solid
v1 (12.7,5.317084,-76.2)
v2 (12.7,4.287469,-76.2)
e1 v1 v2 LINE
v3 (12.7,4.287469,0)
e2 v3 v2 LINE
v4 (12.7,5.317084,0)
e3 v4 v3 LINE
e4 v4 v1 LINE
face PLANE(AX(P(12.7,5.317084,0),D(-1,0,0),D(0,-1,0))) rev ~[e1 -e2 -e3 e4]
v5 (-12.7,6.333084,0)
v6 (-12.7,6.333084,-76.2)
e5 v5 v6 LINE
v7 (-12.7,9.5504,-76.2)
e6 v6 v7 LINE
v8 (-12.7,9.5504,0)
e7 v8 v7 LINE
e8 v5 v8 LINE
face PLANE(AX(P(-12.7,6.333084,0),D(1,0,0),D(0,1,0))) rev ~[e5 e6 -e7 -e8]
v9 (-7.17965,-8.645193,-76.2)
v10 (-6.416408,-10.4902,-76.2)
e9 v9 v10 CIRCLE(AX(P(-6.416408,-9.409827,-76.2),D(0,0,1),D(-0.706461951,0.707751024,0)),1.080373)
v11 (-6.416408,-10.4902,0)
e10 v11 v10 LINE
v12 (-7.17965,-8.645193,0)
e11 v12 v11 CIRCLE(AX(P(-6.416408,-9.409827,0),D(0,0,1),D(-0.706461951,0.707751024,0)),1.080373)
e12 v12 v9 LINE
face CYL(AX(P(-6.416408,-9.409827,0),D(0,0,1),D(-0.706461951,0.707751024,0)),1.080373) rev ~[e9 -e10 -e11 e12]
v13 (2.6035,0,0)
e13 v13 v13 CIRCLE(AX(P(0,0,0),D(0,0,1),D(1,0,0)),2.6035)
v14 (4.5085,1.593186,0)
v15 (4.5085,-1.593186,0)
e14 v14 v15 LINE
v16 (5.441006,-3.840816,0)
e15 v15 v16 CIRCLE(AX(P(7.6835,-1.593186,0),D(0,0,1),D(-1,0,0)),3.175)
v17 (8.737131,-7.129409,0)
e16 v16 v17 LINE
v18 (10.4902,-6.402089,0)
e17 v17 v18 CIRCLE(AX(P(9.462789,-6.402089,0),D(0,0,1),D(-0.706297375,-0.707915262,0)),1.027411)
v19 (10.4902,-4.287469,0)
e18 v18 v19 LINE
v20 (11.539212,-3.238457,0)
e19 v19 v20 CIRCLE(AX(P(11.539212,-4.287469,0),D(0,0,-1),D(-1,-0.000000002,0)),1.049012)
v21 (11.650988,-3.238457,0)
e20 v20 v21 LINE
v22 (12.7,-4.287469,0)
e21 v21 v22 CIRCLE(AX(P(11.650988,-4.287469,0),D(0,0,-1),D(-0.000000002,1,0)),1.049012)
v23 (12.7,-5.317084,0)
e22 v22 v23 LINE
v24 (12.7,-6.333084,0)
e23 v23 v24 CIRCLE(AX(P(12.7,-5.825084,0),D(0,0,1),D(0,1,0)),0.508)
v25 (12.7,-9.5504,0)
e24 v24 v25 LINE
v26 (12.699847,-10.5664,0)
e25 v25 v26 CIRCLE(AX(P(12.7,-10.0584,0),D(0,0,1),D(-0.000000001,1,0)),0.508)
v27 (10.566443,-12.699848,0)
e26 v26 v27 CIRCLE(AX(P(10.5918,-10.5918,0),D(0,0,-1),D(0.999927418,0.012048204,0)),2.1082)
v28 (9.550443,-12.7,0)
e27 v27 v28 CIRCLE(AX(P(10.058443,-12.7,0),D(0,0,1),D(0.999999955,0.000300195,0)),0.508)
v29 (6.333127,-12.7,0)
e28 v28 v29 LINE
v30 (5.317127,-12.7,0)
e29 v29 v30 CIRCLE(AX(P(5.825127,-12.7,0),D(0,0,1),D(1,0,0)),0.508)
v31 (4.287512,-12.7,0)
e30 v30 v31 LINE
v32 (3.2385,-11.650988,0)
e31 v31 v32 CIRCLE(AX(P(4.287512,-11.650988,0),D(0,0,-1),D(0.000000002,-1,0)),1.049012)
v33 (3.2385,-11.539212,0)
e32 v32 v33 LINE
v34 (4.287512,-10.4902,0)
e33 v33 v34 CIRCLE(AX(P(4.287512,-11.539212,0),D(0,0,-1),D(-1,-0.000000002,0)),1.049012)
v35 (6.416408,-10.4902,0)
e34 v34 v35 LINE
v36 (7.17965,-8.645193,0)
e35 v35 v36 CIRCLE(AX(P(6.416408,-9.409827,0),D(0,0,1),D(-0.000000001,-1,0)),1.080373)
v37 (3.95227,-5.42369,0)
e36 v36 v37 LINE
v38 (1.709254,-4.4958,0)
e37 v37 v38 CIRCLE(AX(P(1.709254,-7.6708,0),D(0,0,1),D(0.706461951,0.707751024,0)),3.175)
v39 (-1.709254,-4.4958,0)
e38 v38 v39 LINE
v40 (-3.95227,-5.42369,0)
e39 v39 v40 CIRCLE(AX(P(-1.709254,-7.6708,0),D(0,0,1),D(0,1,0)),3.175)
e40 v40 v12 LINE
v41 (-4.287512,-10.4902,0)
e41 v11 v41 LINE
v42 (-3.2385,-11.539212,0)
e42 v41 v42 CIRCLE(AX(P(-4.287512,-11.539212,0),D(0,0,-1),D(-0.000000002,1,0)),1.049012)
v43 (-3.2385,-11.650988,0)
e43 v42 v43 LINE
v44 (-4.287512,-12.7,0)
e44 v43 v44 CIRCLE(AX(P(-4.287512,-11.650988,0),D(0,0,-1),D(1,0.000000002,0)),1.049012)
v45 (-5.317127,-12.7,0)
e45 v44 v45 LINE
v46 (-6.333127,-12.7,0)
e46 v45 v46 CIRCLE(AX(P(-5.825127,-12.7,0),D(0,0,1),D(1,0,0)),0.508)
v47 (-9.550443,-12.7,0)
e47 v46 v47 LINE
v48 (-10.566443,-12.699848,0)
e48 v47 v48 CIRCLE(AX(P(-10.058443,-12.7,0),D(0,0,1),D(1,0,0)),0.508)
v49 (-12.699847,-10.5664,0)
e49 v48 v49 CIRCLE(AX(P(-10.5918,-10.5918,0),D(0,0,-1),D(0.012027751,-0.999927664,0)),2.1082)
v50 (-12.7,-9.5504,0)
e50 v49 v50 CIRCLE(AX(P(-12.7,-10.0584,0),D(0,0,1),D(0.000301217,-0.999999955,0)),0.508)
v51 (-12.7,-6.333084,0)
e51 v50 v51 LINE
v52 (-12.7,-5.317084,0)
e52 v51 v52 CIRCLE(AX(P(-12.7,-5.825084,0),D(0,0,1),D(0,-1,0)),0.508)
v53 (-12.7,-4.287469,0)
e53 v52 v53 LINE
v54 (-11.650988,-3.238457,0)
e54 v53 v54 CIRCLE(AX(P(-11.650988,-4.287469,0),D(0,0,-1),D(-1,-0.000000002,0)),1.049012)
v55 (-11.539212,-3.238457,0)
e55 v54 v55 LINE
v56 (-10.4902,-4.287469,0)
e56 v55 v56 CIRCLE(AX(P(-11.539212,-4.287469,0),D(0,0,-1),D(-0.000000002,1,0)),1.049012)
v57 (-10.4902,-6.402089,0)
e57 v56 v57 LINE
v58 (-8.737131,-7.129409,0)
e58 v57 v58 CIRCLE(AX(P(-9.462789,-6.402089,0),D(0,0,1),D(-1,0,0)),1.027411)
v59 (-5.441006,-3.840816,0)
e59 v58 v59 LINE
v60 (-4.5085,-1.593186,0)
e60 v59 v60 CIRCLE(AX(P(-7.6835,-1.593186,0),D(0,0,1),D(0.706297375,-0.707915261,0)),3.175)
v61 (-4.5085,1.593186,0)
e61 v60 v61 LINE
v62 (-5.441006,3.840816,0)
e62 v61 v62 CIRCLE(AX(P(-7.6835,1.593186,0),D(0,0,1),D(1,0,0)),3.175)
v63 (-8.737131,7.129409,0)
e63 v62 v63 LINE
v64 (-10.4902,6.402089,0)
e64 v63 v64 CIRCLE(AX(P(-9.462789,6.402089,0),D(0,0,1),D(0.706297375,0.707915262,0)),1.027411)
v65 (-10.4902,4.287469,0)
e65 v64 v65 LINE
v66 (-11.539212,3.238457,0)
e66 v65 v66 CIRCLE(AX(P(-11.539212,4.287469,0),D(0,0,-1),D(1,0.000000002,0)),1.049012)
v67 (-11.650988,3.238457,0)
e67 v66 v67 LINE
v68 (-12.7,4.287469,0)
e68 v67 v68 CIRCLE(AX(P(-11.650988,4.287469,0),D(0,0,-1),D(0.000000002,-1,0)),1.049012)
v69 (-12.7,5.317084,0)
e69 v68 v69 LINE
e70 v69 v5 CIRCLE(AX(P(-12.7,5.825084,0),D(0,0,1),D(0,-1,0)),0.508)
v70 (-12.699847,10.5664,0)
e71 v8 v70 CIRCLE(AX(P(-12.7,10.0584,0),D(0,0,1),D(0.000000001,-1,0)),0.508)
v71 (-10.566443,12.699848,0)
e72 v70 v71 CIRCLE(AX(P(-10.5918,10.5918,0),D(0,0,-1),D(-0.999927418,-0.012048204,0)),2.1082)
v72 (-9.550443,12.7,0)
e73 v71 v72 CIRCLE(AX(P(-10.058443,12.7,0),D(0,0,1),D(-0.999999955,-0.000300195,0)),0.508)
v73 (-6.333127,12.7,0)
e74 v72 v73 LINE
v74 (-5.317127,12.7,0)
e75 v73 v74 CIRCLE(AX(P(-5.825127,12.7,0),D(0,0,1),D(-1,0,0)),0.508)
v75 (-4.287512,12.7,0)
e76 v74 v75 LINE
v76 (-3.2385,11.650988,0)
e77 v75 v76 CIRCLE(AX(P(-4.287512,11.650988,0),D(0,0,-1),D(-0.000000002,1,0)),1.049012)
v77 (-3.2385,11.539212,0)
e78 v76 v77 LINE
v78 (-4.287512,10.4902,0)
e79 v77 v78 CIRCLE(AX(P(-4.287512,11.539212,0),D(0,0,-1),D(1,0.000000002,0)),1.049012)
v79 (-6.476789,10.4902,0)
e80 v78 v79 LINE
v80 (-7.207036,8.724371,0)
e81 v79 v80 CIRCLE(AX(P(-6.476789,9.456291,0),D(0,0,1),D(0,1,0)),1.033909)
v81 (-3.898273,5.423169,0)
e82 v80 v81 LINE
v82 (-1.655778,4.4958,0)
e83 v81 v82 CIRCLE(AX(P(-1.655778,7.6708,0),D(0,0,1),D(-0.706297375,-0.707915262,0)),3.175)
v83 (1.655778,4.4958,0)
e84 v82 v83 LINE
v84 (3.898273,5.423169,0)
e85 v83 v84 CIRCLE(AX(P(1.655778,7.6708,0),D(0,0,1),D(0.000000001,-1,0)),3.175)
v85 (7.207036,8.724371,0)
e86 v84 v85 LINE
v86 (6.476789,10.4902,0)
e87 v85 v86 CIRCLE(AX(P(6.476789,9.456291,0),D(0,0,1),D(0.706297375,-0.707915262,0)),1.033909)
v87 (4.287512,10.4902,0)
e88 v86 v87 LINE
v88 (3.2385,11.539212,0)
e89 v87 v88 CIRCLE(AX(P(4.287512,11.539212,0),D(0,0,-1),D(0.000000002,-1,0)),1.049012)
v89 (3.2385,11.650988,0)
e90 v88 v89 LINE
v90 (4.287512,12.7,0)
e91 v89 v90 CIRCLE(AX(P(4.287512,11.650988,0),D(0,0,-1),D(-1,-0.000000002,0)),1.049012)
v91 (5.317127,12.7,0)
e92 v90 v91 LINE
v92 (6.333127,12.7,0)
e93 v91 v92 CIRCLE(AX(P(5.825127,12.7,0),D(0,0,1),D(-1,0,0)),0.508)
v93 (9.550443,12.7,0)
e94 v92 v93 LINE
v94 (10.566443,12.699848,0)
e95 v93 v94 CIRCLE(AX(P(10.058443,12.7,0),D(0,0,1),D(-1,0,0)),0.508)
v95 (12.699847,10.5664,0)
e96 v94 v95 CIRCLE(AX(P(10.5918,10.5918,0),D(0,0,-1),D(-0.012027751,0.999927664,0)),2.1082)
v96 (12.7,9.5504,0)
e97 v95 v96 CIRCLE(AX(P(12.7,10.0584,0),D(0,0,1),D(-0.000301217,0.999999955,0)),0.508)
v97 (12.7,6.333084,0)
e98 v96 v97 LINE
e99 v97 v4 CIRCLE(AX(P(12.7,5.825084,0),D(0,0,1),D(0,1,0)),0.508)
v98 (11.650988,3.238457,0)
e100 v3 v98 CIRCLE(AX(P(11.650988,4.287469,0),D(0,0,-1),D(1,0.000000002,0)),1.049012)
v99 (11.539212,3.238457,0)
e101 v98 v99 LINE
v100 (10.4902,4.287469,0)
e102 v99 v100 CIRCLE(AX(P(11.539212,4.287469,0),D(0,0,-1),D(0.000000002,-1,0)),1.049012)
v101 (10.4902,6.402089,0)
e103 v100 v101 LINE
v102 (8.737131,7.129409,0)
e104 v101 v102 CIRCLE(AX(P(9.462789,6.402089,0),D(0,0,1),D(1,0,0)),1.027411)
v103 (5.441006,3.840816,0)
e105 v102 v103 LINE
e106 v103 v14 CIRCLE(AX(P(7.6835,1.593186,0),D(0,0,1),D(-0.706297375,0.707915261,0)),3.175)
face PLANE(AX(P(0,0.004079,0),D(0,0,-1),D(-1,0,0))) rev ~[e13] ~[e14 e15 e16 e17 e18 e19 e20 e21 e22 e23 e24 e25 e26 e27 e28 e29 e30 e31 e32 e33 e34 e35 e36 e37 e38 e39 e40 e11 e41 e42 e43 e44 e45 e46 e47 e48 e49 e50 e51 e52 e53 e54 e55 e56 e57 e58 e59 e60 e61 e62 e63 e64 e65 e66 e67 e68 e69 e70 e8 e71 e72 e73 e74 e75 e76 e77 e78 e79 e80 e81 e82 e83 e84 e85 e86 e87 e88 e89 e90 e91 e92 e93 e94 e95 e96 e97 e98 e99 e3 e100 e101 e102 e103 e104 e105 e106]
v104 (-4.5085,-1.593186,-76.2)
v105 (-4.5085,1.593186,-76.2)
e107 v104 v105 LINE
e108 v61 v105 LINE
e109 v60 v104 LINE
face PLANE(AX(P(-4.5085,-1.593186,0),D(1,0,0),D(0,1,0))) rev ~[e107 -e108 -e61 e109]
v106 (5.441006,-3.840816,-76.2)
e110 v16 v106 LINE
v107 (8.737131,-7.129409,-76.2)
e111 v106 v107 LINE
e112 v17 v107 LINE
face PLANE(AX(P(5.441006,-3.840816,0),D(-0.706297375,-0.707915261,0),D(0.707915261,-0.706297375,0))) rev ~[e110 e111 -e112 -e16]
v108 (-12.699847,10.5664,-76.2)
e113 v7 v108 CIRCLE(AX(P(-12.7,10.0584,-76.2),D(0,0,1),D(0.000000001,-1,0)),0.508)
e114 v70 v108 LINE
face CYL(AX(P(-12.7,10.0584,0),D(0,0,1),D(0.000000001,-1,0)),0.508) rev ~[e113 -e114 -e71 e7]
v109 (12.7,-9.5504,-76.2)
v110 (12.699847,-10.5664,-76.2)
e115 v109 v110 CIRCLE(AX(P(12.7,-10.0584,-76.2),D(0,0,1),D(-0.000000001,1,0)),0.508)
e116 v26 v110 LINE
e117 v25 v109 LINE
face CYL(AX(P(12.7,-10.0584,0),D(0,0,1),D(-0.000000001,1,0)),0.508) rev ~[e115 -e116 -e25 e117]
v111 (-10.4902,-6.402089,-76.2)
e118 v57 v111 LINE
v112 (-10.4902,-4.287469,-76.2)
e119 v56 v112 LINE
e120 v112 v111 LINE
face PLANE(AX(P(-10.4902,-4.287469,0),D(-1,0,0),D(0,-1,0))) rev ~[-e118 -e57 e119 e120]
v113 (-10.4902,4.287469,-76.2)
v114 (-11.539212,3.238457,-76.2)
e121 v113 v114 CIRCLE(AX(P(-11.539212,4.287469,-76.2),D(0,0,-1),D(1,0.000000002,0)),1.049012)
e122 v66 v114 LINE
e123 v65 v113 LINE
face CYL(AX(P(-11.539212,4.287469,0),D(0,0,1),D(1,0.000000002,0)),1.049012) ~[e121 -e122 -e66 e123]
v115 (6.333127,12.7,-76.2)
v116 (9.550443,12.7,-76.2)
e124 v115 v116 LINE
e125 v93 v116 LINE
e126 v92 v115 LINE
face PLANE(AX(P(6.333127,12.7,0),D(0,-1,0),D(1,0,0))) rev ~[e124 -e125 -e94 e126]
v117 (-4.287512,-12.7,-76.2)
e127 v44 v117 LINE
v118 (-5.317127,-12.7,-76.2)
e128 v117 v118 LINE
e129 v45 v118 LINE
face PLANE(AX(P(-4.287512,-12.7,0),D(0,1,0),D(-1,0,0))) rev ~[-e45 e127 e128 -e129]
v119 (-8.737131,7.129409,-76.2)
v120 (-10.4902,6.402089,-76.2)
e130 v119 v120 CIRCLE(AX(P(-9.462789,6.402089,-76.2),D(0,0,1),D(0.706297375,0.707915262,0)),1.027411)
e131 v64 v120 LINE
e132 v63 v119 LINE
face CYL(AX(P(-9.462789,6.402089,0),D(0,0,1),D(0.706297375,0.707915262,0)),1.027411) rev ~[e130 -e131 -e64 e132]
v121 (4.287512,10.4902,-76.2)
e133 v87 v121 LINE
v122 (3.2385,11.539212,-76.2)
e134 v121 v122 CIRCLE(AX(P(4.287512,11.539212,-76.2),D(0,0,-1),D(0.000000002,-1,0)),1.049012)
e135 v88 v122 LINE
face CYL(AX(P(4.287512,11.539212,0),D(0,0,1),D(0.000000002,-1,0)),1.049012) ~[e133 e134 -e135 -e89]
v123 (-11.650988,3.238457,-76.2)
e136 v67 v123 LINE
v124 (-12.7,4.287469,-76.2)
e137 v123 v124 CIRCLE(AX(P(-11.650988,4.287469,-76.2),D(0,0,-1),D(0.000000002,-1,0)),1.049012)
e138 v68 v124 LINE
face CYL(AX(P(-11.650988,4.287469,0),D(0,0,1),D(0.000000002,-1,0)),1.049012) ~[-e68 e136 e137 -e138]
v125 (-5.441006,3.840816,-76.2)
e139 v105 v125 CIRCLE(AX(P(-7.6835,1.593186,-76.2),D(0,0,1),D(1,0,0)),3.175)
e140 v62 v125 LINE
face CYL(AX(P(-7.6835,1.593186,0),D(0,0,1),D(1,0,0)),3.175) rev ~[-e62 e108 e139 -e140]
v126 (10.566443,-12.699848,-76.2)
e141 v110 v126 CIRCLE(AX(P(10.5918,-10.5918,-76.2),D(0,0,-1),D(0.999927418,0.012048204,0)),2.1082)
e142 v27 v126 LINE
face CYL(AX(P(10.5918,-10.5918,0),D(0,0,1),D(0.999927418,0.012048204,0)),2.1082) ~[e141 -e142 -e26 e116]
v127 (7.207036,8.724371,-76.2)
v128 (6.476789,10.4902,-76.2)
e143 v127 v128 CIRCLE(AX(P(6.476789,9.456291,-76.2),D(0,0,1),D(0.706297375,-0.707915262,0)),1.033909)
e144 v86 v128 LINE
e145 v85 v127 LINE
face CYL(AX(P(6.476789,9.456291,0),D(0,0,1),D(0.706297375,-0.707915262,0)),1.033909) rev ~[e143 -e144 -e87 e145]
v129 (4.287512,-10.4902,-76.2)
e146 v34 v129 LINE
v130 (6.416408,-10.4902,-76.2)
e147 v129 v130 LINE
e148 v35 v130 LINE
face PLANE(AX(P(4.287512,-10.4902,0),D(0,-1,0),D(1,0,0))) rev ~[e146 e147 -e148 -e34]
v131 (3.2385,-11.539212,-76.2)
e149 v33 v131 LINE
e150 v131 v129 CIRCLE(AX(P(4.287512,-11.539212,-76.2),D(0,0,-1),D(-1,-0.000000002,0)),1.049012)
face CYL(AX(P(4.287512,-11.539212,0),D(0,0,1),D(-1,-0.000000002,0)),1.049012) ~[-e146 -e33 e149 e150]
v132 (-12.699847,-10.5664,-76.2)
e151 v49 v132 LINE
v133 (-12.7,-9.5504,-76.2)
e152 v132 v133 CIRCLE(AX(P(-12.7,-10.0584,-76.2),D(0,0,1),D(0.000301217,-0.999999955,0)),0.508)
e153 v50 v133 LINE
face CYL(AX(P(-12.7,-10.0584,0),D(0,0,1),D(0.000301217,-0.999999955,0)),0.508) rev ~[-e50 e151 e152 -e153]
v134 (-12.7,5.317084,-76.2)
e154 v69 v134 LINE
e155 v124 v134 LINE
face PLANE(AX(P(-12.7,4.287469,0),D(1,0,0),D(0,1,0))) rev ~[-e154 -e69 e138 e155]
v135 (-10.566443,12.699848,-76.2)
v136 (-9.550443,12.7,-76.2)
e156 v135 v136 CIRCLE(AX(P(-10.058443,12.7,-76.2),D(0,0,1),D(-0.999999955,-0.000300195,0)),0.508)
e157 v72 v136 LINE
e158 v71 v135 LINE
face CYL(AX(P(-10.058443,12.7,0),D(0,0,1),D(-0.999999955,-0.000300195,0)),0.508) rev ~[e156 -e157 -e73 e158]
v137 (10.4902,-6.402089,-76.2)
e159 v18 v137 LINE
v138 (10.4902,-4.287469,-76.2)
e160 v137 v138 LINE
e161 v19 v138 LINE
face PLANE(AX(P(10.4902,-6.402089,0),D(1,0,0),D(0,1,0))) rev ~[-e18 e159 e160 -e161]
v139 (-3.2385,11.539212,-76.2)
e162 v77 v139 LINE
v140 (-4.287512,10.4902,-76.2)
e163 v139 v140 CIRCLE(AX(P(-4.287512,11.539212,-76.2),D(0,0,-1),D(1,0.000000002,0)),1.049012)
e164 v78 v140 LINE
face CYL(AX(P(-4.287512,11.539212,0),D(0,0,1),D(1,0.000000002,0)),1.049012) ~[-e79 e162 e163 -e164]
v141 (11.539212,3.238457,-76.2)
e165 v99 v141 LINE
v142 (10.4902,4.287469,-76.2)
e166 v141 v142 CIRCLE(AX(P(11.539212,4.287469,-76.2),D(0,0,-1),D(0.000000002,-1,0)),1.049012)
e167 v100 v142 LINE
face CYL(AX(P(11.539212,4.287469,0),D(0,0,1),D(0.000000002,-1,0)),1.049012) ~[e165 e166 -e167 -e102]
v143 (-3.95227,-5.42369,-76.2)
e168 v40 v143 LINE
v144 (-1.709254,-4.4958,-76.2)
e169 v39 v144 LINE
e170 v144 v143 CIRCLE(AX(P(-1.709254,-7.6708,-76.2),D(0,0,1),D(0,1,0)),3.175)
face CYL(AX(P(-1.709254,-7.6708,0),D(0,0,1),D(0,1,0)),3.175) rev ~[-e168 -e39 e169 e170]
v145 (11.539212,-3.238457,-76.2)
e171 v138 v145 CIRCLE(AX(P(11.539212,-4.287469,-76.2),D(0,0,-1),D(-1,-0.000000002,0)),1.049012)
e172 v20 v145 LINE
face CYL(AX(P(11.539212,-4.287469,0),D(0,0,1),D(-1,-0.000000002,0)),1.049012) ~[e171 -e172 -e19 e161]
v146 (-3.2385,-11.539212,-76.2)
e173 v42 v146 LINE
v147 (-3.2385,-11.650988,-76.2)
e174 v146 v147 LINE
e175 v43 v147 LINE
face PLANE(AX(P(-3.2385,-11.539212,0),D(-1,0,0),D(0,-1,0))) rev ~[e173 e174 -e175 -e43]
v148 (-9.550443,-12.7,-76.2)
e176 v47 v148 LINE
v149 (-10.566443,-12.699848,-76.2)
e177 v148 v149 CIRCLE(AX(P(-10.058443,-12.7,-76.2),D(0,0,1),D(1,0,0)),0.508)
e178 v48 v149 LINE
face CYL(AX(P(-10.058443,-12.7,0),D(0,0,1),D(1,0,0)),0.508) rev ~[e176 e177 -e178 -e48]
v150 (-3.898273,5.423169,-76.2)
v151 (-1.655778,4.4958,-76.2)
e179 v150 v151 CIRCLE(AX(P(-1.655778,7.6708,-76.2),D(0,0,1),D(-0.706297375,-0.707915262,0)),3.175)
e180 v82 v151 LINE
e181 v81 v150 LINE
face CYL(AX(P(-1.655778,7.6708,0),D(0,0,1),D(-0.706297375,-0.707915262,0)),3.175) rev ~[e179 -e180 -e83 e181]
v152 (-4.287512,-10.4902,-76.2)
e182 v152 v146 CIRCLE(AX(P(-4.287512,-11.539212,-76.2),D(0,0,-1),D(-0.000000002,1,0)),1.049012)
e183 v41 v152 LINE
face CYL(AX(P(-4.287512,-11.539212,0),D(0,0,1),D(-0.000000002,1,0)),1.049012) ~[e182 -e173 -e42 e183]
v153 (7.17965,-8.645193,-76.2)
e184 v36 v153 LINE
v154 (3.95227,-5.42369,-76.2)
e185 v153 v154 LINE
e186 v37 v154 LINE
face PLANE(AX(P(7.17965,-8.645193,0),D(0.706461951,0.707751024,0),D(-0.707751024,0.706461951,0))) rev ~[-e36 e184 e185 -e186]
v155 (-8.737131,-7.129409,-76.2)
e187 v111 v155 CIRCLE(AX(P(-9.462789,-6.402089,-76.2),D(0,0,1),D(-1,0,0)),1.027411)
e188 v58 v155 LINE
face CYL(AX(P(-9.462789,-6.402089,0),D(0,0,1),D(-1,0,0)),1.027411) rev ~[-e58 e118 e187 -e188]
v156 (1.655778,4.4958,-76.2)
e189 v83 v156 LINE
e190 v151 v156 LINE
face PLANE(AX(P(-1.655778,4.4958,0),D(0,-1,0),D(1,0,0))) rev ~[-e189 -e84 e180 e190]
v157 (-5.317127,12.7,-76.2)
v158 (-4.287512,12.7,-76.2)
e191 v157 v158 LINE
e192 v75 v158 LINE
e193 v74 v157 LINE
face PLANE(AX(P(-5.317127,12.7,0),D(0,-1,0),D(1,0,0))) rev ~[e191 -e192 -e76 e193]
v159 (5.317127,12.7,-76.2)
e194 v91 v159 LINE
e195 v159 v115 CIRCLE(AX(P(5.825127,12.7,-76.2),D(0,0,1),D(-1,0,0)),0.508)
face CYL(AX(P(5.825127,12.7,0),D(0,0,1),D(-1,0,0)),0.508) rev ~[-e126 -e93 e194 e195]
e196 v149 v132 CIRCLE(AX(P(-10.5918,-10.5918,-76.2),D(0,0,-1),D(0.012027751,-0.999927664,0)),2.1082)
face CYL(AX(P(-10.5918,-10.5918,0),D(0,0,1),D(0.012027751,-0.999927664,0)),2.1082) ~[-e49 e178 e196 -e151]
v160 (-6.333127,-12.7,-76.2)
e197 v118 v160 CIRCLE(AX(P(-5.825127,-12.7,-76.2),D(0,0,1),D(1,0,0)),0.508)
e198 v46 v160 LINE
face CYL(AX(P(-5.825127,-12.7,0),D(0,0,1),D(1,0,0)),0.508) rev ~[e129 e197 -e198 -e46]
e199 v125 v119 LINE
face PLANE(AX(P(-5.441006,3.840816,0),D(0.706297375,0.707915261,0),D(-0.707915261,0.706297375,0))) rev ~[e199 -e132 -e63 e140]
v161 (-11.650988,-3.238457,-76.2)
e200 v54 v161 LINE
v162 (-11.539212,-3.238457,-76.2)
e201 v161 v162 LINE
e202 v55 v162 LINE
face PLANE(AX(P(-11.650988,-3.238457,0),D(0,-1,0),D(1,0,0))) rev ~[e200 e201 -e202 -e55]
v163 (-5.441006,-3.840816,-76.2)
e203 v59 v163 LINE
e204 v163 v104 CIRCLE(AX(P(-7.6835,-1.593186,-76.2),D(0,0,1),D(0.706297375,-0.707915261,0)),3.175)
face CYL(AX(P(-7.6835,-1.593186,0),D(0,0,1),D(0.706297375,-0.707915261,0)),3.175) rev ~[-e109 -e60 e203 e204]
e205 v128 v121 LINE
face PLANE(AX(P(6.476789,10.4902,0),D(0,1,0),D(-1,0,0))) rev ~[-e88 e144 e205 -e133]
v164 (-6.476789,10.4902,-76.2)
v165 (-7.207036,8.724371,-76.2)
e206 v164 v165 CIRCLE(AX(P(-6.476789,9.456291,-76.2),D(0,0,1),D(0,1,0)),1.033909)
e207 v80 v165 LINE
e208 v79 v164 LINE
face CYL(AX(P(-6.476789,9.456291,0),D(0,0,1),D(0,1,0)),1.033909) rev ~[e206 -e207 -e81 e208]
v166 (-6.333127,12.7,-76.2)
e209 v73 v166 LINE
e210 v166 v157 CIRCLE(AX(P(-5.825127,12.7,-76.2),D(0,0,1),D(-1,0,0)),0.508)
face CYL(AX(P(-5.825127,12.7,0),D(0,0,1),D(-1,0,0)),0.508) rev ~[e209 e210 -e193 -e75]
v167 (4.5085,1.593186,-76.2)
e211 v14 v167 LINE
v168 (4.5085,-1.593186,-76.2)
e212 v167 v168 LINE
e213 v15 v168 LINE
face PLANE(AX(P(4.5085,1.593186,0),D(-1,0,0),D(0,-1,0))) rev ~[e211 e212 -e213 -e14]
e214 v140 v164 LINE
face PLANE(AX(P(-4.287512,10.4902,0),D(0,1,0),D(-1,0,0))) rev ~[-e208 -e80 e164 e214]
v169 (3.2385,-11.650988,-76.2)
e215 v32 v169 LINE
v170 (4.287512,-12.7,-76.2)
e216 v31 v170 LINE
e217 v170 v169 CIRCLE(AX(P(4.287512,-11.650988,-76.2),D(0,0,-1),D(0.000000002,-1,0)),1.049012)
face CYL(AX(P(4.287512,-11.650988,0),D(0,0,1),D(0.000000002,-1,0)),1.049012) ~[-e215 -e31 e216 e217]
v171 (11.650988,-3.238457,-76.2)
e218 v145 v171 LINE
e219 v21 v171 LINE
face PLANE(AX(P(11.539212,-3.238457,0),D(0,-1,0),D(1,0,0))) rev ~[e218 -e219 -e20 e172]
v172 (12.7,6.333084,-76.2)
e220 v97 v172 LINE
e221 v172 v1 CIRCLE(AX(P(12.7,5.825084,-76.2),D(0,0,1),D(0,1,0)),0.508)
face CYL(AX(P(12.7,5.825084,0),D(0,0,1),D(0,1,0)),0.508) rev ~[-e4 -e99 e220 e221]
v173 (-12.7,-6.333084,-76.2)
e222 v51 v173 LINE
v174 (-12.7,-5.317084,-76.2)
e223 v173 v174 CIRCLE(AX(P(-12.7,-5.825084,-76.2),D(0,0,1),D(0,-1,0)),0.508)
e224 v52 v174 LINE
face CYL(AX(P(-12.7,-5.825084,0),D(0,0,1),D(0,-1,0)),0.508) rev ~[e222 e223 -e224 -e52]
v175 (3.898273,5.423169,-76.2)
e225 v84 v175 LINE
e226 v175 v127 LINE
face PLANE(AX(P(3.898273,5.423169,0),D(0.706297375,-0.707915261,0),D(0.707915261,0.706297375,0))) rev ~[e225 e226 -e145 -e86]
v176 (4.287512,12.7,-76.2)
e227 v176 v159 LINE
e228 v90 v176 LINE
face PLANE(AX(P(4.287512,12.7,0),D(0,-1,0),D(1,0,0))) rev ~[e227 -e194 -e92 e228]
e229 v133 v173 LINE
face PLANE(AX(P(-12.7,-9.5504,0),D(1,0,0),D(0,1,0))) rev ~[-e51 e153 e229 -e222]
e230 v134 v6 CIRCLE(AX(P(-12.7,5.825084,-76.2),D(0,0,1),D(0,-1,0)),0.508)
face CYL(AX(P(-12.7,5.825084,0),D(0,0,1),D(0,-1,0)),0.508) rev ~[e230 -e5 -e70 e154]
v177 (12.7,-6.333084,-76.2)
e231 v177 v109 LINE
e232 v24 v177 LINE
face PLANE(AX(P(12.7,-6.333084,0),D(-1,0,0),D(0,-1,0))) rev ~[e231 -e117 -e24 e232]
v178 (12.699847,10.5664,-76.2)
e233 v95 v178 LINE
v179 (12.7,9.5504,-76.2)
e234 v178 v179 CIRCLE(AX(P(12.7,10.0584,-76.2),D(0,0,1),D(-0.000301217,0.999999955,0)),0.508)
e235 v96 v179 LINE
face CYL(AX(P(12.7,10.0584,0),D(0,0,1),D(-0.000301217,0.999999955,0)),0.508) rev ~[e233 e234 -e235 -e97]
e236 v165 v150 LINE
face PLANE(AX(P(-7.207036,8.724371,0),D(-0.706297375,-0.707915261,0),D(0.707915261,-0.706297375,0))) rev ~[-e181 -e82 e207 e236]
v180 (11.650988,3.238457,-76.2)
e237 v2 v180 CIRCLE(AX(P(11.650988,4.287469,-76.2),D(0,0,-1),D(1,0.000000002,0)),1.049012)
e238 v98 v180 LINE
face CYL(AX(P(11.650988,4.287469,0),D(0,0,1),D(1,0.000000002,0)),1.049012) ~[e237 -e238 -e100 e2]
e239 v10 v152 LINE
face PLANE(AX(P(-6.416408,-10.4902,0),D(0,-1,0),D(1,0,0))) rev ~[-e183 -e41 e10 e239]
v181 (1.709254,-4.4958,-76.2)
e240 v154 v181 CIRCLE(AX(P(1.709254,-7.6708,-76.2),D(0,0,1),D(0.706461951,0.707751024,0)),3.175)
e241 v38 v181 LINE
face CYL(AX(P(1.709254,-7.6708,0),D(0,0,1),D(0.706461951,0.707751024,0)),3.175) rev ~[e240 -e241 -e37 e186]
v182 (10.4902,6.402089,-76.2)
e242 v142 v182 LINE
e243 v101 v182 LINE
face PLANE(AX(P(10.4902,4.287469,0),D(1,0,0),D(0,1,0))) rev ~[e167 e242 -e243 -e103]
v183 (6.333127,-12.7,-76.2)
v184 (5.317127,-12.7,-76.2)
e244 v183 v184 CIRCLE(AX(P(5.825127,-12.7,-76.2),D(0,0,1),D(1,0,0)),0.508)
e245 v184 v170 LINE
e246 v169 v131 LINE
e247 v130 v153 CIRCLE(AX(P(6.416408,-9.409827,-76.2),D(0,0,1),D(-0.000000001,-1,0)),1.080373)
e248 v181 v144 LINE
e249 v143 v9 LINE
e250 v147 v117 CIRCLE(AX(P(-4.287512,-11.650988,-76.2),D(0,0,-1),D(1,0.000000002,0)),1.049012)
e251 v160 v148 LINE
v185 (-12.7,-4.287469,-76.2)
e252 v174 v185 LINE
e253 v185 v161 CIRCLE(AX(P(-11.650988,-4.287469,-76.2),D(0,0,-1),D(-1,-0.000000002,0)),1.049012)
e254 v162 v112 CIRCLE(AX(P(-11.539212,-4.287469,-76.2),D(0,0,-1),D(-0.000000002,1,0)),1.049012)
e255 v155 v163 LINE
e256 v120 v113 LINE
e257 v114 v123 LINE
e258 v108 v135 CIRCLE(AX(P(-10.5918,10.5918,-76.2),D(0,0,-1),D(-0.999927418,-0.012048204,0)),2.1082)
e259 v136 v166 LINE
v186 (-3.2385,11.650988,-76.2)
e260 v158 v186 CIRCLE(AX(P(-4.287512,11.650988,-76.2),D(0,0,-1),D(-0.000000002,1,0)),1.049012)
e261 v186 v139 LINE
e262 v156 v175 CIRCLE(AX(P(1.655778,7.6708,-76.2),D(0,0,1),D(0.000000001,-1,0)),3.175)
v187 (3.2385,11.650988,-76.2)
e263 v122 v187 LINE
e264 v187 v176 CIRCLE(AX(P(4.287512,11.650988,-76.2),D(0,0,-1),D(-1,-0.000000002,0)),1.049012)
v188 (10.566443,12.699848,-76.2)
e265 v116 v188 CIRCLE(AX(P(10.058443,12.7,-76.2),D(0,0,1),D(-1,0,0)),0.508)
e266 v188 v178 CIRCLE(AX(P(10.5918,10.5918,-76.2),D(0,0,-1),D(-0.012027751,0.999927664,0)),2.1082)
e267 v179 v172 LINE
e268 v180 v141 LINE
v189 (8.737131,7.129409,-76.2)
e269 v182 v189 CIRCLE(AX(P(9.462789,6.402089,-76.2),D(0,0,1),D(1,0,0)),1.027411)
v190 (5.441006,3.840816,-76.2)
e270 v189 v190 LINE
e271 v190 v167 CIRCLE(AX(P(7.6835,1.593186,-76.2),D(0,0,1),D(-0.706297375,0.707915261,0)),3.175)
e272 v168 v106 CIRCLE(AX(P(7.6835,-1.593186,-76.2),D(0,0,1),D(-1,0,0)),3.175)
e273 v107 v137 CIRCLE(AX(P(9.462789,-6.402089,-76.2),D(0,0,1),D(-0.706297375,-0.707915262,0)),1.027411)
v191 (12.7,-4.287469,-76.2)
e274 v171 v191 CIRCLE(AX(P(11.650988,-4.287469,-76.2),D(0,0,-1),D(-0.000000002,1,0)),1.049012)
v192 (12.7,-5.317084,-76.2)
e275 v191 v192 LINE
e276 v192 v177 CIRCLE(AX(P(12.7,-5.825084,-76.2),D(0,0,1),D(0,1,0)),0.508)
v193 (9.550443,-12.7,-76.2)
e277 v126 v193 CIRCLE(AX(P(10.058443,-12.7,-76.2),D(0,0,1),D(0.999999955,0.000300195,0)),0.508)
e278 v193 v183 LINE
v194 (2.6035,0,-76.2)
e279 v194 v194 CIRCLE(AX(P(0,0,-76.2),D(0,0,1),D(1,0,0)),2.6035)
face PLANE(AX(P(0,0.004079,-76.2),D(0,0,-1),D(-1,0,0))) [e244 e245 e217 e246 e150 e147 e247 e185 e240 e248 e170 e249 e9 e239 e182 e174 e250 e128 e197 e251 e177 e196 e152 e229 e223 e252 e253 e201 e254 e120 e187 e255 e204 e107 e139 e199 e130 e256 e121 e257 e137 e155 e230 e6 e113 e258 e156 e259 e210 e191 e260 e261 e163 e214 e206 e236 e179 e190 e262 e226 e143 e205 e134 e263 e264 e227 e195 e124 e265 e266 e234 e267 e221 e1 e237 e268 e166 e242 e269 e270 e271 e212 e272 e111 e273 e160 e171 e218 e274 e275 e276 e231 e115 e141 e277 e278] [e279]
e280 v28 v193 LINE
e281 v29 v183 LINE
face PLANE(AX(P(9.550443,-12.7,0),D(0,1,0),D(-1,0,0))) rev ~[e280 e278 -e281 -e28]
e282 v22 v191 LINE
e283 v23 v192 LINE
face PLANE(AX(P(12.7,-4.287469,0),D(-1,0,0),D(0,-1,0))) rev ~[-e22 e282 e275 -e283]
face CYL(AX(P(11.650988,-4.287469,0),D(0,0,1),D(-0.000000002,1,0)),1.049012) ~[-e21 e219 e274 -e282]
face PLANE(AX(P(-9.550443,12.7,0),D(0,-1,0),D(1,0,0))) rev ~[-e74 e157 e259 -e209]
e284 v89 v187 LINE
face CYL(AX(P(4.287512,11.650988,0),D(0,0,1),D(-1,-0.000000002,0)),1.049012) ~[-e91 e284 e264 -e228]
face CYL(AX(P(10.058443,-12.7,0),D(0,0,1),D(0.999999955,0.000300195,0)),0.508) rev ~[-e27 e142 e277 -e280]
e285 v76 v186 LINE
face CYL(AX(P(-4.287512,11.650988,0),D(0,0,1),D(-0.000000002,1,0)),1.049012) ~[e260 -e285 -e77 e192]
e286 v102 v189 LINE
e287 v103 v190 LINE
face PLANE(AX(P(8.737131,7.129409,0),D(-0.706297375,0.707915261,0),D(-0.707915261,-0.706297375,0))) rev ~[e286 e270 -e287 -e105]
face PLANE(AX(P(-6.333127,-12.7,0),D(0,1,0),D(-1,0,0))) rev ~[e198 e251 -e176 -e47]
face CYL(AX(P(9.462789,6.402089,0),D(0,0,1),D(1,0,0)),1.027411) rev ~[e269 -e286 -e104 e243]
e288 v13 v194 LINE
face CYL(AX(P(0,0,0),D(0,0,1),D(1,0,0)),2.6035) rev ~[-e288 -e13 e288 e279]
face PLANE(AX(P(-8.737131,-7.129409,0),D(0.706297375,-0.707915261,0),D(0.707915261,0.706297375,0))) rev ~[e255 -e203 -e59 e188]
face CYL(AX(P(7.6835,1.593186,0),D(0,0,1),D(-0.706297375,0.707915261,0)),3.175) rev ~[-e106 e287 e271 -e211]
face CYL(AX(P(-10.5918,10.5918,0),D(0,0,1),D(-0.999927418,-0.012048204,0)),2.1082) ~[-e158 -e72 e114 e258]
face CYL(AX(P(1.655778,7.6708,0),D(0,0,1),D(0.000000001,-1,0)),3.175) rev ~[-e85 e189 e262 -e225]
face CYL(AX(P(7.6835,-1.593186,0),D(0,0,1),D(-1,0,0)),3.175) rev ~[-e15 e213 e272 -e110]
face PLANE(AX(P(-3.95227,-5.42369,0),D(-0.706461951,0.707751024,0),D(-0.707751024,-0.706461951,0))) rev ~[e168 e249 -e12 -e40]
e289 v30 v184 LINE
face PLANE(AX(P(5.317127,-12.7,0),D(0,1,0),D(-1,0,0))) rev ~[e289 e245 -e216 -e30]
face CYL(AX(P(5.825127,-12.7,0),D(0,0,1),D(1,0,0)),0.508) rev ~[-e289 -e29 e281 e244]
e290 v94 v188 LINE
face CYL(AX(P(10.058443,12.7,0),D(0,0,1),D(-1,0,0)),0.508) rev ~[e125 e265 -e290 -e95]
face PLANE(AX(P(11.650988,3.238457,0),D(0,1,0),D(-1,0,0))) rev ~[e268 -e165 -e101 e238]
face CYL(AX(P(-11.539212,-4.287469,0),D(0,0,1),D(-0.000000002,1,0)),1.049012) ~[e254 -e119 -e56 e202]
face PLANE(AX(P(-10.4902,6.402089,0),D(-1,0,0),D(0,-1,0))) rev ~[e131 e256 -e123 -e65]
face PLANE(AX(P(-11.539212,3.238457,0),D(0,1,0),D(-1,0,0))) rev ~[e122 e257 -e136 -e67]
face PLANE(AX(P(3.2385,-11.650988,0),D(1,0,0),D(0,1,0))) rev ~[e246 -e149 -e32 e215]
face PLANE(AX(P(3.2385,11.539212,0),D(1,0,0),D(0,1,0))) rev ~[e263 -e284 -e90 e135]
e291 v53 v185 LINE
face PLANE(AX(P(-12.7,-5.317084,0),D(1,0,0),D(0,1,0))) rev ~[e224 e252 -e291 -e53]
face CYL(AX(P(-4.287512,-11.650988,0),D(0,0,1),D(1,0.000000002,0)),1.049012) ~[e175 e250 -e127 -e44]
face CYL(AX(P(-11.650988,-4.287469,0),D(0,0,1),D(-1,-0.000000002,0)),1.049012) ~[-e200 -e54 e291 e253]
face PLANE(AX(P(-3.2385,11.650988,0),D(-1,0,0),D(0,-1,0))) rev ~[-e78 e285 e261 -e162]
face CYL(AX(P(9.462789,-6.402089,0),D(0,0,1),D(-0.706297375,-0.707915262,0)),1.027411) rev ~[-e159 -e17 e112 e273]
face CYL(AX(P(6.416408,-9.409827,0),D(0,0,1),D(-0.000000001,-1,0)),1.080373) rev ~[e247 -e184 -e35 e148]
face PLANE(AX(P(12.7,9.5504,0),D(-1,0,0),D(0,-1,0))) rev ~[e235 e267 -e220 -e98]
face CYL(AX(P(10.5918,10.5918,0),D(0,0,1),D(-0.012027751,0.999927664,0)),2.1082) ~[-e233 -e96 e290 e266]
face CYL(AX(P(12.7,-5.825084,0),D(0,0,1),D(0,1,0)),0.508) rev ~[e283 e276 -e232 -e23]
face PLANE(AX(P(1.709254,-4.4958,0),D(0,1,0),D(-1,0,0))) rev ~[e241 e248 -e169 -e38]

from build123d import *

# Parameters (mm, degrees)
SKETCH1_R      = 2.6035
EXTRUDE1_DEPTH = 76.2


with BuildPart() as part:
    # Sketch1 → Extrude1 (new body)
    with BuildSketch(Plane.XY):
        with BuildLine():
            Line((-7.207036008, 8.724370562), (-3.898272566, 5.423169045))
            ThreePointArc((-3.898272566, 5.423169045), (-2.869120213, 4.736787962), (-1.655778399, 4.4958))
            Line((-1.655778399, 4.4958), (1.655778399, 4.4958))
            ThreePointArc((1.655778399, 4.4958), (2.869120213, 4.736787962), (3.898272566, 5.423169045))
            Line((3.898272566, 5.423169045), (7.207036008, 8.724370562))
            ThreePointArc((7.207036008, 8.724370562), (7.432222385, 9.85140422), (6.476788598, 10.4902))
            Line((6.476788598, 10.4902), (4.287512407, 10.4902))
            ThreePointArc((4.287512407, 10.4902), (3.54574862, 10.79744862), (3.2385, 11.539212407))
            Line((3.2385, 11.539212407), (3.2385, 11.650987593))
            ThreePointArc((3.2385, 11.650987593), (3.54574862, 12.39275138), (4.287512407, 12.7))
            Line((4.287512407, 12.7), (5.317126718, 12.7))
            ThreePointArc((5.317126718, 12.7), (5.825126718, 12.192), (6.333126718, 12.7))
            Line((6.333126718, 12.7), (9.550443118, 12.7))
            ThreePointArc((9.550443118, 12.7), (10.058366869, 12.192000006), (10.566443095, 12.699847501))
            ThreePointArc((10.566443095, 12.699847501), (12.082537762, 12.08250727), (12.699846982, 10.566399977))
            ThreePointArc((12.699846982, 10.566399977), (12.192000006, 10.058323491), (12.7, 9.5504))
            Line((12.7, 9.5504), (12.7, 6.3330836))
            ThreePointArc((12.7, 6.3330836), (12.192, 5.8250836), (12.7, 5.3170836))
            Line((12.7, 5.3170836), (12.7, 4.287469289))
            ThreePointArc((12.7, 4.287469289), (12.39275138, 3.545705502), (11.650987593, 3.238456882))
            Line((11.650987593, 3.238456882), (11.539212407, 3.238456882))
            ThreePointArc((11.539212407, 3.238456882), (10.79744862, 3.545705502), (10.4902, 4.287469289))
            Line((10.4902, 4.287469289), (10.4902, 6.402089023))
            ThreePointArc((10.4902, 6.402089023), (9.856505071, 7.351067942), (8.737131347, 7.129408934))
            Line((8.737131347, 7.129408934), (5.441005833, 3.840816462))
            ThreePointArc((5.441005833, 3.840816462), (4.750877967, 2.809883091), (4.5085, 1.593185507))
            Line((4.5085, 1.593185507), (4.5085, -1.593185507))
            ThreePointArc((4.5085, -1.593185507), (4.750877967, -2.809883091), (5.441005833, -3.840816462))
            Line((5.441005833, -3.840816462), (8.737131347, -7.129408934))
            ThreePointArc((8.737131347, -7.129408934), (9.856505071, -7.351067942), (10.4902, -6.402089023))
            Line((10.4902, -6.402089023), (10.4902, -4.287469289))
            ThreePointArc((10.4902, -4.287469289), (10.79744862, -3.545705502), (11.539212407, -3.238456882))
            Line((11.539212407, -3.238456882), (11.650987593, -3.238456882))
            ThreePointArc((11.650987593, -3.238456882), (12.39275138, -3.545705502), (12.7, -4.287469289))
            Line((12.7, -4.287469289), (12.7, -5.3170836))
            ThreePointArc((12.7, -5.3170836), (12.192, -5.8250836), (12.7, -6.3330836))
            Line((12.7, -6.3330836), (12.7, -9.5504))
            ThreePointArc((12.7, -9.5504), (12.192000006, -10.058323491), (12.699846982, -10.566399977))
            ThreePointArc((12.699846982, -10.566399977), (12.082537762, -12.08250727), (10.566443095, -12.699847501))
            ThreePointArc((10.566443095, -12.699847501), (10.058366869, -12.192000006), (9.550443118, -12.7))
            Line((9.550443118, -12.7), (6.333126718, -12.7))
            ThreePointArc((6.333126718, -12.7), (5.825126718, -12.192), (5.317126718, -12.7))
            Line((5.317126718, -12.7), (4.287512407, -12.7))
            ThreePointArc((4.287512407, -12.7), (3.54574862, -12.39275138), (3.2385, -11.650987593))
            Line((3.2385, -11.650987593), (3.2385, -11.539212407))
            ThreePointArc((3.2385, -11.539212407), (3.54574862, -10.79744862), (4.287512407, -10.4902))
            Line((4.287512407, -10.4902), (6.416408329, -10.4902))
            ThreePointArc((6.416408329, -10.4902), (7.41473083, -9.822813117), (7.179650497, -8.645192506))
            Line((7.179650497, -8.645192506), (3.952270251, -5.423690499))
            ThreePointArc((3.952270251, -5.423690499), (2.922936451, -4.736929036), (1.709253557, -4.4958))
            Line((1.709253557, -4.4958), (-1.709253557, -4.4958))
            ThreePointArc((-1.709253557, -4.4958), (-2.922936451, -4.736929036), (-3.952270251, -5.423690499))
            Line((-3.952270251, -5.423690499), (-7.179650497, -8.645192506))
            ThreePointArc((-7.179650497, -8.645192506), (-7.41473083, -9.822813117), (-6.416408329, -10.4902))
            Line((-6.416408329, -10.4902), (-4.287512407, -10.4902))
            ThreePointArc((-4.287512407, -10.4902), (-3.54574862, -10.79744862), (-3.2385, -11.539212407))
            Line((-3.2385, -11.539212407), (-3.2385, -11.650987593))
            ThreePointArc((-3.2385, -11.650987593), (-3.54574862, -12.39275138), (-4.287512407, -12.7))
            Line((-4.287512407, -12.7), (-5.317126718, -12.7))
            ThreePointArc((-5.317126718, -12.7), (-5.825126718, -12.192), (-6.333126718, -12.7))
            Line((-6.333126718, -12.7), (-9.550443118, -12.7))
            ThreePointArc((-9.550443118, -12.7), (-10.058366869, -12.192000006), (-10.566443095, -12.699847501))
            ThreePointArc((-10.566443095, -12.699847501), (-12.082537762, -12.08250727), (-12.699846982, -10.566399977))
            ThreePointArc((-12.699846982, -10.566399977), (-12.192000006, -10.058323491), (-12.7, -9.5504))
            Line((-12.7, -9.5504), (-12.7, -6.3330836))
            ThreePointArc((-12.7, -6.3330836), (-12.192, -5.8250836), (-12.7, -5.3170836))
            Line((-12.7, -5.3170836), (-12.7, -4.287469289))
            ThreePointArc((-12.7, -4.287469289), (-12.39275138, -3.545705502), (-11.650987593, -3.238456882))
            Line((-11.650987593, -3.238456882), (-11.539212407, -3.238456882))
            ThreePointArc((-11.539212407, -3.238456882), (-10.79744862, -3.545705502), (-10.4902, -4.287469289))
            Line((-10.4902, -4.287469289), (-10.4902, -6.402089023))
            ThreePointArc((-10.4902, -6.402089023), (-9.856505071, -7.351067942), (-8.737131347, -7.129408934))
            Line((-8.737131347, -7.129408934), (-5.441005833, -3.840816462))
            ThreePointArc((-5.441005833, -3.840816462), (-4.750877967, -2.809883091), (-4.5085, -1.593185507))
            Line((-4.5085, -1.593185507), (-4.5085, 1.593185507))
            ThreePointArc((-4.5085, 1.593185507), (-4.750877967, 2.809883091), (-5.441005833, 3.840816462))
            Line((-5.441005833, 3.840816462), (-8.737131347, 7.129408934))
            ThreePointArc((-8.737131347, 7.129408934), (-9.856505071, 7.351067942), (-10.4902, 6.402089023))
            Line((-10.4902, 6.402089023), (-10.4902, 4.287469289))
            ThreePointArc((-10.4902, 4.287469289), (-10.79744862, 3.545705502), (-11.539212407, 3.238456882))
            Line((-11.539212407, 3.238456882), (-11.650987593, 3.238456882))
            ThreePointArc((-11.650987593, 3.238456882), (-12.39275138, 3.545705502), (-12.7, 4.287469289))
            Line((-12.7, 4.287469289), (-12.7, 5.3170836))
            ThreePointArc((-12.7, 5.3170836), (-12.192, 5.8250836), (-12.7, 6.3330836))
            Line((-12.7, 6.3330836), (-12.7, 9.5504))
            ThreePointArc((-12.7, 9.5504), (-12.192000006, 10.058323491), (-12.699846982, 10.566399977))
            ThreePointArc((-12.699846982, 10.566399977), (-12.082537762, 12.08250727), (-10.566443095, 12.699847501))
            ThreePointArc((-10.566443095, 12.699847501), (-10.058366869, 12.192000006), (-9.550443118, 12.7))
            Line((-9.550443118, 12.7), (-6.333126718, 12.7))
            ThreePointArc((-6.333126718, 12.7), (-5.825126718, 12.192), (-5.317126718, 12.7))
            Line((-5.317126718, 12.7), (-4.287512407, 12.7))
            ThreePointArc((-4.287512407, 12.7), (-3.54574862, 12.39275138), (-3.2385, 11.650987593))
            Line((-3.2385, 11.650987593), (-3.2385, 11.539212407))
            ThreePointArc((-3.2385, 11.539212407), (-3.54574862, 10.79744862), (-4.287512407, 10.4902))
            Line((-4.287512407, 10.4902), (-6.476788598, 10.4902))
            ThreePointArc((-6.476788598, 10.4902), (-7.432222385, 9.85140422), (-7.207036008, 8.724370562))
        make_face()
        Circle(SKETCH1_R, mode=Mode.SUBTRACT)
    extrude(amount=-EXTRUDE1_DEPTH)


solid = part.part
